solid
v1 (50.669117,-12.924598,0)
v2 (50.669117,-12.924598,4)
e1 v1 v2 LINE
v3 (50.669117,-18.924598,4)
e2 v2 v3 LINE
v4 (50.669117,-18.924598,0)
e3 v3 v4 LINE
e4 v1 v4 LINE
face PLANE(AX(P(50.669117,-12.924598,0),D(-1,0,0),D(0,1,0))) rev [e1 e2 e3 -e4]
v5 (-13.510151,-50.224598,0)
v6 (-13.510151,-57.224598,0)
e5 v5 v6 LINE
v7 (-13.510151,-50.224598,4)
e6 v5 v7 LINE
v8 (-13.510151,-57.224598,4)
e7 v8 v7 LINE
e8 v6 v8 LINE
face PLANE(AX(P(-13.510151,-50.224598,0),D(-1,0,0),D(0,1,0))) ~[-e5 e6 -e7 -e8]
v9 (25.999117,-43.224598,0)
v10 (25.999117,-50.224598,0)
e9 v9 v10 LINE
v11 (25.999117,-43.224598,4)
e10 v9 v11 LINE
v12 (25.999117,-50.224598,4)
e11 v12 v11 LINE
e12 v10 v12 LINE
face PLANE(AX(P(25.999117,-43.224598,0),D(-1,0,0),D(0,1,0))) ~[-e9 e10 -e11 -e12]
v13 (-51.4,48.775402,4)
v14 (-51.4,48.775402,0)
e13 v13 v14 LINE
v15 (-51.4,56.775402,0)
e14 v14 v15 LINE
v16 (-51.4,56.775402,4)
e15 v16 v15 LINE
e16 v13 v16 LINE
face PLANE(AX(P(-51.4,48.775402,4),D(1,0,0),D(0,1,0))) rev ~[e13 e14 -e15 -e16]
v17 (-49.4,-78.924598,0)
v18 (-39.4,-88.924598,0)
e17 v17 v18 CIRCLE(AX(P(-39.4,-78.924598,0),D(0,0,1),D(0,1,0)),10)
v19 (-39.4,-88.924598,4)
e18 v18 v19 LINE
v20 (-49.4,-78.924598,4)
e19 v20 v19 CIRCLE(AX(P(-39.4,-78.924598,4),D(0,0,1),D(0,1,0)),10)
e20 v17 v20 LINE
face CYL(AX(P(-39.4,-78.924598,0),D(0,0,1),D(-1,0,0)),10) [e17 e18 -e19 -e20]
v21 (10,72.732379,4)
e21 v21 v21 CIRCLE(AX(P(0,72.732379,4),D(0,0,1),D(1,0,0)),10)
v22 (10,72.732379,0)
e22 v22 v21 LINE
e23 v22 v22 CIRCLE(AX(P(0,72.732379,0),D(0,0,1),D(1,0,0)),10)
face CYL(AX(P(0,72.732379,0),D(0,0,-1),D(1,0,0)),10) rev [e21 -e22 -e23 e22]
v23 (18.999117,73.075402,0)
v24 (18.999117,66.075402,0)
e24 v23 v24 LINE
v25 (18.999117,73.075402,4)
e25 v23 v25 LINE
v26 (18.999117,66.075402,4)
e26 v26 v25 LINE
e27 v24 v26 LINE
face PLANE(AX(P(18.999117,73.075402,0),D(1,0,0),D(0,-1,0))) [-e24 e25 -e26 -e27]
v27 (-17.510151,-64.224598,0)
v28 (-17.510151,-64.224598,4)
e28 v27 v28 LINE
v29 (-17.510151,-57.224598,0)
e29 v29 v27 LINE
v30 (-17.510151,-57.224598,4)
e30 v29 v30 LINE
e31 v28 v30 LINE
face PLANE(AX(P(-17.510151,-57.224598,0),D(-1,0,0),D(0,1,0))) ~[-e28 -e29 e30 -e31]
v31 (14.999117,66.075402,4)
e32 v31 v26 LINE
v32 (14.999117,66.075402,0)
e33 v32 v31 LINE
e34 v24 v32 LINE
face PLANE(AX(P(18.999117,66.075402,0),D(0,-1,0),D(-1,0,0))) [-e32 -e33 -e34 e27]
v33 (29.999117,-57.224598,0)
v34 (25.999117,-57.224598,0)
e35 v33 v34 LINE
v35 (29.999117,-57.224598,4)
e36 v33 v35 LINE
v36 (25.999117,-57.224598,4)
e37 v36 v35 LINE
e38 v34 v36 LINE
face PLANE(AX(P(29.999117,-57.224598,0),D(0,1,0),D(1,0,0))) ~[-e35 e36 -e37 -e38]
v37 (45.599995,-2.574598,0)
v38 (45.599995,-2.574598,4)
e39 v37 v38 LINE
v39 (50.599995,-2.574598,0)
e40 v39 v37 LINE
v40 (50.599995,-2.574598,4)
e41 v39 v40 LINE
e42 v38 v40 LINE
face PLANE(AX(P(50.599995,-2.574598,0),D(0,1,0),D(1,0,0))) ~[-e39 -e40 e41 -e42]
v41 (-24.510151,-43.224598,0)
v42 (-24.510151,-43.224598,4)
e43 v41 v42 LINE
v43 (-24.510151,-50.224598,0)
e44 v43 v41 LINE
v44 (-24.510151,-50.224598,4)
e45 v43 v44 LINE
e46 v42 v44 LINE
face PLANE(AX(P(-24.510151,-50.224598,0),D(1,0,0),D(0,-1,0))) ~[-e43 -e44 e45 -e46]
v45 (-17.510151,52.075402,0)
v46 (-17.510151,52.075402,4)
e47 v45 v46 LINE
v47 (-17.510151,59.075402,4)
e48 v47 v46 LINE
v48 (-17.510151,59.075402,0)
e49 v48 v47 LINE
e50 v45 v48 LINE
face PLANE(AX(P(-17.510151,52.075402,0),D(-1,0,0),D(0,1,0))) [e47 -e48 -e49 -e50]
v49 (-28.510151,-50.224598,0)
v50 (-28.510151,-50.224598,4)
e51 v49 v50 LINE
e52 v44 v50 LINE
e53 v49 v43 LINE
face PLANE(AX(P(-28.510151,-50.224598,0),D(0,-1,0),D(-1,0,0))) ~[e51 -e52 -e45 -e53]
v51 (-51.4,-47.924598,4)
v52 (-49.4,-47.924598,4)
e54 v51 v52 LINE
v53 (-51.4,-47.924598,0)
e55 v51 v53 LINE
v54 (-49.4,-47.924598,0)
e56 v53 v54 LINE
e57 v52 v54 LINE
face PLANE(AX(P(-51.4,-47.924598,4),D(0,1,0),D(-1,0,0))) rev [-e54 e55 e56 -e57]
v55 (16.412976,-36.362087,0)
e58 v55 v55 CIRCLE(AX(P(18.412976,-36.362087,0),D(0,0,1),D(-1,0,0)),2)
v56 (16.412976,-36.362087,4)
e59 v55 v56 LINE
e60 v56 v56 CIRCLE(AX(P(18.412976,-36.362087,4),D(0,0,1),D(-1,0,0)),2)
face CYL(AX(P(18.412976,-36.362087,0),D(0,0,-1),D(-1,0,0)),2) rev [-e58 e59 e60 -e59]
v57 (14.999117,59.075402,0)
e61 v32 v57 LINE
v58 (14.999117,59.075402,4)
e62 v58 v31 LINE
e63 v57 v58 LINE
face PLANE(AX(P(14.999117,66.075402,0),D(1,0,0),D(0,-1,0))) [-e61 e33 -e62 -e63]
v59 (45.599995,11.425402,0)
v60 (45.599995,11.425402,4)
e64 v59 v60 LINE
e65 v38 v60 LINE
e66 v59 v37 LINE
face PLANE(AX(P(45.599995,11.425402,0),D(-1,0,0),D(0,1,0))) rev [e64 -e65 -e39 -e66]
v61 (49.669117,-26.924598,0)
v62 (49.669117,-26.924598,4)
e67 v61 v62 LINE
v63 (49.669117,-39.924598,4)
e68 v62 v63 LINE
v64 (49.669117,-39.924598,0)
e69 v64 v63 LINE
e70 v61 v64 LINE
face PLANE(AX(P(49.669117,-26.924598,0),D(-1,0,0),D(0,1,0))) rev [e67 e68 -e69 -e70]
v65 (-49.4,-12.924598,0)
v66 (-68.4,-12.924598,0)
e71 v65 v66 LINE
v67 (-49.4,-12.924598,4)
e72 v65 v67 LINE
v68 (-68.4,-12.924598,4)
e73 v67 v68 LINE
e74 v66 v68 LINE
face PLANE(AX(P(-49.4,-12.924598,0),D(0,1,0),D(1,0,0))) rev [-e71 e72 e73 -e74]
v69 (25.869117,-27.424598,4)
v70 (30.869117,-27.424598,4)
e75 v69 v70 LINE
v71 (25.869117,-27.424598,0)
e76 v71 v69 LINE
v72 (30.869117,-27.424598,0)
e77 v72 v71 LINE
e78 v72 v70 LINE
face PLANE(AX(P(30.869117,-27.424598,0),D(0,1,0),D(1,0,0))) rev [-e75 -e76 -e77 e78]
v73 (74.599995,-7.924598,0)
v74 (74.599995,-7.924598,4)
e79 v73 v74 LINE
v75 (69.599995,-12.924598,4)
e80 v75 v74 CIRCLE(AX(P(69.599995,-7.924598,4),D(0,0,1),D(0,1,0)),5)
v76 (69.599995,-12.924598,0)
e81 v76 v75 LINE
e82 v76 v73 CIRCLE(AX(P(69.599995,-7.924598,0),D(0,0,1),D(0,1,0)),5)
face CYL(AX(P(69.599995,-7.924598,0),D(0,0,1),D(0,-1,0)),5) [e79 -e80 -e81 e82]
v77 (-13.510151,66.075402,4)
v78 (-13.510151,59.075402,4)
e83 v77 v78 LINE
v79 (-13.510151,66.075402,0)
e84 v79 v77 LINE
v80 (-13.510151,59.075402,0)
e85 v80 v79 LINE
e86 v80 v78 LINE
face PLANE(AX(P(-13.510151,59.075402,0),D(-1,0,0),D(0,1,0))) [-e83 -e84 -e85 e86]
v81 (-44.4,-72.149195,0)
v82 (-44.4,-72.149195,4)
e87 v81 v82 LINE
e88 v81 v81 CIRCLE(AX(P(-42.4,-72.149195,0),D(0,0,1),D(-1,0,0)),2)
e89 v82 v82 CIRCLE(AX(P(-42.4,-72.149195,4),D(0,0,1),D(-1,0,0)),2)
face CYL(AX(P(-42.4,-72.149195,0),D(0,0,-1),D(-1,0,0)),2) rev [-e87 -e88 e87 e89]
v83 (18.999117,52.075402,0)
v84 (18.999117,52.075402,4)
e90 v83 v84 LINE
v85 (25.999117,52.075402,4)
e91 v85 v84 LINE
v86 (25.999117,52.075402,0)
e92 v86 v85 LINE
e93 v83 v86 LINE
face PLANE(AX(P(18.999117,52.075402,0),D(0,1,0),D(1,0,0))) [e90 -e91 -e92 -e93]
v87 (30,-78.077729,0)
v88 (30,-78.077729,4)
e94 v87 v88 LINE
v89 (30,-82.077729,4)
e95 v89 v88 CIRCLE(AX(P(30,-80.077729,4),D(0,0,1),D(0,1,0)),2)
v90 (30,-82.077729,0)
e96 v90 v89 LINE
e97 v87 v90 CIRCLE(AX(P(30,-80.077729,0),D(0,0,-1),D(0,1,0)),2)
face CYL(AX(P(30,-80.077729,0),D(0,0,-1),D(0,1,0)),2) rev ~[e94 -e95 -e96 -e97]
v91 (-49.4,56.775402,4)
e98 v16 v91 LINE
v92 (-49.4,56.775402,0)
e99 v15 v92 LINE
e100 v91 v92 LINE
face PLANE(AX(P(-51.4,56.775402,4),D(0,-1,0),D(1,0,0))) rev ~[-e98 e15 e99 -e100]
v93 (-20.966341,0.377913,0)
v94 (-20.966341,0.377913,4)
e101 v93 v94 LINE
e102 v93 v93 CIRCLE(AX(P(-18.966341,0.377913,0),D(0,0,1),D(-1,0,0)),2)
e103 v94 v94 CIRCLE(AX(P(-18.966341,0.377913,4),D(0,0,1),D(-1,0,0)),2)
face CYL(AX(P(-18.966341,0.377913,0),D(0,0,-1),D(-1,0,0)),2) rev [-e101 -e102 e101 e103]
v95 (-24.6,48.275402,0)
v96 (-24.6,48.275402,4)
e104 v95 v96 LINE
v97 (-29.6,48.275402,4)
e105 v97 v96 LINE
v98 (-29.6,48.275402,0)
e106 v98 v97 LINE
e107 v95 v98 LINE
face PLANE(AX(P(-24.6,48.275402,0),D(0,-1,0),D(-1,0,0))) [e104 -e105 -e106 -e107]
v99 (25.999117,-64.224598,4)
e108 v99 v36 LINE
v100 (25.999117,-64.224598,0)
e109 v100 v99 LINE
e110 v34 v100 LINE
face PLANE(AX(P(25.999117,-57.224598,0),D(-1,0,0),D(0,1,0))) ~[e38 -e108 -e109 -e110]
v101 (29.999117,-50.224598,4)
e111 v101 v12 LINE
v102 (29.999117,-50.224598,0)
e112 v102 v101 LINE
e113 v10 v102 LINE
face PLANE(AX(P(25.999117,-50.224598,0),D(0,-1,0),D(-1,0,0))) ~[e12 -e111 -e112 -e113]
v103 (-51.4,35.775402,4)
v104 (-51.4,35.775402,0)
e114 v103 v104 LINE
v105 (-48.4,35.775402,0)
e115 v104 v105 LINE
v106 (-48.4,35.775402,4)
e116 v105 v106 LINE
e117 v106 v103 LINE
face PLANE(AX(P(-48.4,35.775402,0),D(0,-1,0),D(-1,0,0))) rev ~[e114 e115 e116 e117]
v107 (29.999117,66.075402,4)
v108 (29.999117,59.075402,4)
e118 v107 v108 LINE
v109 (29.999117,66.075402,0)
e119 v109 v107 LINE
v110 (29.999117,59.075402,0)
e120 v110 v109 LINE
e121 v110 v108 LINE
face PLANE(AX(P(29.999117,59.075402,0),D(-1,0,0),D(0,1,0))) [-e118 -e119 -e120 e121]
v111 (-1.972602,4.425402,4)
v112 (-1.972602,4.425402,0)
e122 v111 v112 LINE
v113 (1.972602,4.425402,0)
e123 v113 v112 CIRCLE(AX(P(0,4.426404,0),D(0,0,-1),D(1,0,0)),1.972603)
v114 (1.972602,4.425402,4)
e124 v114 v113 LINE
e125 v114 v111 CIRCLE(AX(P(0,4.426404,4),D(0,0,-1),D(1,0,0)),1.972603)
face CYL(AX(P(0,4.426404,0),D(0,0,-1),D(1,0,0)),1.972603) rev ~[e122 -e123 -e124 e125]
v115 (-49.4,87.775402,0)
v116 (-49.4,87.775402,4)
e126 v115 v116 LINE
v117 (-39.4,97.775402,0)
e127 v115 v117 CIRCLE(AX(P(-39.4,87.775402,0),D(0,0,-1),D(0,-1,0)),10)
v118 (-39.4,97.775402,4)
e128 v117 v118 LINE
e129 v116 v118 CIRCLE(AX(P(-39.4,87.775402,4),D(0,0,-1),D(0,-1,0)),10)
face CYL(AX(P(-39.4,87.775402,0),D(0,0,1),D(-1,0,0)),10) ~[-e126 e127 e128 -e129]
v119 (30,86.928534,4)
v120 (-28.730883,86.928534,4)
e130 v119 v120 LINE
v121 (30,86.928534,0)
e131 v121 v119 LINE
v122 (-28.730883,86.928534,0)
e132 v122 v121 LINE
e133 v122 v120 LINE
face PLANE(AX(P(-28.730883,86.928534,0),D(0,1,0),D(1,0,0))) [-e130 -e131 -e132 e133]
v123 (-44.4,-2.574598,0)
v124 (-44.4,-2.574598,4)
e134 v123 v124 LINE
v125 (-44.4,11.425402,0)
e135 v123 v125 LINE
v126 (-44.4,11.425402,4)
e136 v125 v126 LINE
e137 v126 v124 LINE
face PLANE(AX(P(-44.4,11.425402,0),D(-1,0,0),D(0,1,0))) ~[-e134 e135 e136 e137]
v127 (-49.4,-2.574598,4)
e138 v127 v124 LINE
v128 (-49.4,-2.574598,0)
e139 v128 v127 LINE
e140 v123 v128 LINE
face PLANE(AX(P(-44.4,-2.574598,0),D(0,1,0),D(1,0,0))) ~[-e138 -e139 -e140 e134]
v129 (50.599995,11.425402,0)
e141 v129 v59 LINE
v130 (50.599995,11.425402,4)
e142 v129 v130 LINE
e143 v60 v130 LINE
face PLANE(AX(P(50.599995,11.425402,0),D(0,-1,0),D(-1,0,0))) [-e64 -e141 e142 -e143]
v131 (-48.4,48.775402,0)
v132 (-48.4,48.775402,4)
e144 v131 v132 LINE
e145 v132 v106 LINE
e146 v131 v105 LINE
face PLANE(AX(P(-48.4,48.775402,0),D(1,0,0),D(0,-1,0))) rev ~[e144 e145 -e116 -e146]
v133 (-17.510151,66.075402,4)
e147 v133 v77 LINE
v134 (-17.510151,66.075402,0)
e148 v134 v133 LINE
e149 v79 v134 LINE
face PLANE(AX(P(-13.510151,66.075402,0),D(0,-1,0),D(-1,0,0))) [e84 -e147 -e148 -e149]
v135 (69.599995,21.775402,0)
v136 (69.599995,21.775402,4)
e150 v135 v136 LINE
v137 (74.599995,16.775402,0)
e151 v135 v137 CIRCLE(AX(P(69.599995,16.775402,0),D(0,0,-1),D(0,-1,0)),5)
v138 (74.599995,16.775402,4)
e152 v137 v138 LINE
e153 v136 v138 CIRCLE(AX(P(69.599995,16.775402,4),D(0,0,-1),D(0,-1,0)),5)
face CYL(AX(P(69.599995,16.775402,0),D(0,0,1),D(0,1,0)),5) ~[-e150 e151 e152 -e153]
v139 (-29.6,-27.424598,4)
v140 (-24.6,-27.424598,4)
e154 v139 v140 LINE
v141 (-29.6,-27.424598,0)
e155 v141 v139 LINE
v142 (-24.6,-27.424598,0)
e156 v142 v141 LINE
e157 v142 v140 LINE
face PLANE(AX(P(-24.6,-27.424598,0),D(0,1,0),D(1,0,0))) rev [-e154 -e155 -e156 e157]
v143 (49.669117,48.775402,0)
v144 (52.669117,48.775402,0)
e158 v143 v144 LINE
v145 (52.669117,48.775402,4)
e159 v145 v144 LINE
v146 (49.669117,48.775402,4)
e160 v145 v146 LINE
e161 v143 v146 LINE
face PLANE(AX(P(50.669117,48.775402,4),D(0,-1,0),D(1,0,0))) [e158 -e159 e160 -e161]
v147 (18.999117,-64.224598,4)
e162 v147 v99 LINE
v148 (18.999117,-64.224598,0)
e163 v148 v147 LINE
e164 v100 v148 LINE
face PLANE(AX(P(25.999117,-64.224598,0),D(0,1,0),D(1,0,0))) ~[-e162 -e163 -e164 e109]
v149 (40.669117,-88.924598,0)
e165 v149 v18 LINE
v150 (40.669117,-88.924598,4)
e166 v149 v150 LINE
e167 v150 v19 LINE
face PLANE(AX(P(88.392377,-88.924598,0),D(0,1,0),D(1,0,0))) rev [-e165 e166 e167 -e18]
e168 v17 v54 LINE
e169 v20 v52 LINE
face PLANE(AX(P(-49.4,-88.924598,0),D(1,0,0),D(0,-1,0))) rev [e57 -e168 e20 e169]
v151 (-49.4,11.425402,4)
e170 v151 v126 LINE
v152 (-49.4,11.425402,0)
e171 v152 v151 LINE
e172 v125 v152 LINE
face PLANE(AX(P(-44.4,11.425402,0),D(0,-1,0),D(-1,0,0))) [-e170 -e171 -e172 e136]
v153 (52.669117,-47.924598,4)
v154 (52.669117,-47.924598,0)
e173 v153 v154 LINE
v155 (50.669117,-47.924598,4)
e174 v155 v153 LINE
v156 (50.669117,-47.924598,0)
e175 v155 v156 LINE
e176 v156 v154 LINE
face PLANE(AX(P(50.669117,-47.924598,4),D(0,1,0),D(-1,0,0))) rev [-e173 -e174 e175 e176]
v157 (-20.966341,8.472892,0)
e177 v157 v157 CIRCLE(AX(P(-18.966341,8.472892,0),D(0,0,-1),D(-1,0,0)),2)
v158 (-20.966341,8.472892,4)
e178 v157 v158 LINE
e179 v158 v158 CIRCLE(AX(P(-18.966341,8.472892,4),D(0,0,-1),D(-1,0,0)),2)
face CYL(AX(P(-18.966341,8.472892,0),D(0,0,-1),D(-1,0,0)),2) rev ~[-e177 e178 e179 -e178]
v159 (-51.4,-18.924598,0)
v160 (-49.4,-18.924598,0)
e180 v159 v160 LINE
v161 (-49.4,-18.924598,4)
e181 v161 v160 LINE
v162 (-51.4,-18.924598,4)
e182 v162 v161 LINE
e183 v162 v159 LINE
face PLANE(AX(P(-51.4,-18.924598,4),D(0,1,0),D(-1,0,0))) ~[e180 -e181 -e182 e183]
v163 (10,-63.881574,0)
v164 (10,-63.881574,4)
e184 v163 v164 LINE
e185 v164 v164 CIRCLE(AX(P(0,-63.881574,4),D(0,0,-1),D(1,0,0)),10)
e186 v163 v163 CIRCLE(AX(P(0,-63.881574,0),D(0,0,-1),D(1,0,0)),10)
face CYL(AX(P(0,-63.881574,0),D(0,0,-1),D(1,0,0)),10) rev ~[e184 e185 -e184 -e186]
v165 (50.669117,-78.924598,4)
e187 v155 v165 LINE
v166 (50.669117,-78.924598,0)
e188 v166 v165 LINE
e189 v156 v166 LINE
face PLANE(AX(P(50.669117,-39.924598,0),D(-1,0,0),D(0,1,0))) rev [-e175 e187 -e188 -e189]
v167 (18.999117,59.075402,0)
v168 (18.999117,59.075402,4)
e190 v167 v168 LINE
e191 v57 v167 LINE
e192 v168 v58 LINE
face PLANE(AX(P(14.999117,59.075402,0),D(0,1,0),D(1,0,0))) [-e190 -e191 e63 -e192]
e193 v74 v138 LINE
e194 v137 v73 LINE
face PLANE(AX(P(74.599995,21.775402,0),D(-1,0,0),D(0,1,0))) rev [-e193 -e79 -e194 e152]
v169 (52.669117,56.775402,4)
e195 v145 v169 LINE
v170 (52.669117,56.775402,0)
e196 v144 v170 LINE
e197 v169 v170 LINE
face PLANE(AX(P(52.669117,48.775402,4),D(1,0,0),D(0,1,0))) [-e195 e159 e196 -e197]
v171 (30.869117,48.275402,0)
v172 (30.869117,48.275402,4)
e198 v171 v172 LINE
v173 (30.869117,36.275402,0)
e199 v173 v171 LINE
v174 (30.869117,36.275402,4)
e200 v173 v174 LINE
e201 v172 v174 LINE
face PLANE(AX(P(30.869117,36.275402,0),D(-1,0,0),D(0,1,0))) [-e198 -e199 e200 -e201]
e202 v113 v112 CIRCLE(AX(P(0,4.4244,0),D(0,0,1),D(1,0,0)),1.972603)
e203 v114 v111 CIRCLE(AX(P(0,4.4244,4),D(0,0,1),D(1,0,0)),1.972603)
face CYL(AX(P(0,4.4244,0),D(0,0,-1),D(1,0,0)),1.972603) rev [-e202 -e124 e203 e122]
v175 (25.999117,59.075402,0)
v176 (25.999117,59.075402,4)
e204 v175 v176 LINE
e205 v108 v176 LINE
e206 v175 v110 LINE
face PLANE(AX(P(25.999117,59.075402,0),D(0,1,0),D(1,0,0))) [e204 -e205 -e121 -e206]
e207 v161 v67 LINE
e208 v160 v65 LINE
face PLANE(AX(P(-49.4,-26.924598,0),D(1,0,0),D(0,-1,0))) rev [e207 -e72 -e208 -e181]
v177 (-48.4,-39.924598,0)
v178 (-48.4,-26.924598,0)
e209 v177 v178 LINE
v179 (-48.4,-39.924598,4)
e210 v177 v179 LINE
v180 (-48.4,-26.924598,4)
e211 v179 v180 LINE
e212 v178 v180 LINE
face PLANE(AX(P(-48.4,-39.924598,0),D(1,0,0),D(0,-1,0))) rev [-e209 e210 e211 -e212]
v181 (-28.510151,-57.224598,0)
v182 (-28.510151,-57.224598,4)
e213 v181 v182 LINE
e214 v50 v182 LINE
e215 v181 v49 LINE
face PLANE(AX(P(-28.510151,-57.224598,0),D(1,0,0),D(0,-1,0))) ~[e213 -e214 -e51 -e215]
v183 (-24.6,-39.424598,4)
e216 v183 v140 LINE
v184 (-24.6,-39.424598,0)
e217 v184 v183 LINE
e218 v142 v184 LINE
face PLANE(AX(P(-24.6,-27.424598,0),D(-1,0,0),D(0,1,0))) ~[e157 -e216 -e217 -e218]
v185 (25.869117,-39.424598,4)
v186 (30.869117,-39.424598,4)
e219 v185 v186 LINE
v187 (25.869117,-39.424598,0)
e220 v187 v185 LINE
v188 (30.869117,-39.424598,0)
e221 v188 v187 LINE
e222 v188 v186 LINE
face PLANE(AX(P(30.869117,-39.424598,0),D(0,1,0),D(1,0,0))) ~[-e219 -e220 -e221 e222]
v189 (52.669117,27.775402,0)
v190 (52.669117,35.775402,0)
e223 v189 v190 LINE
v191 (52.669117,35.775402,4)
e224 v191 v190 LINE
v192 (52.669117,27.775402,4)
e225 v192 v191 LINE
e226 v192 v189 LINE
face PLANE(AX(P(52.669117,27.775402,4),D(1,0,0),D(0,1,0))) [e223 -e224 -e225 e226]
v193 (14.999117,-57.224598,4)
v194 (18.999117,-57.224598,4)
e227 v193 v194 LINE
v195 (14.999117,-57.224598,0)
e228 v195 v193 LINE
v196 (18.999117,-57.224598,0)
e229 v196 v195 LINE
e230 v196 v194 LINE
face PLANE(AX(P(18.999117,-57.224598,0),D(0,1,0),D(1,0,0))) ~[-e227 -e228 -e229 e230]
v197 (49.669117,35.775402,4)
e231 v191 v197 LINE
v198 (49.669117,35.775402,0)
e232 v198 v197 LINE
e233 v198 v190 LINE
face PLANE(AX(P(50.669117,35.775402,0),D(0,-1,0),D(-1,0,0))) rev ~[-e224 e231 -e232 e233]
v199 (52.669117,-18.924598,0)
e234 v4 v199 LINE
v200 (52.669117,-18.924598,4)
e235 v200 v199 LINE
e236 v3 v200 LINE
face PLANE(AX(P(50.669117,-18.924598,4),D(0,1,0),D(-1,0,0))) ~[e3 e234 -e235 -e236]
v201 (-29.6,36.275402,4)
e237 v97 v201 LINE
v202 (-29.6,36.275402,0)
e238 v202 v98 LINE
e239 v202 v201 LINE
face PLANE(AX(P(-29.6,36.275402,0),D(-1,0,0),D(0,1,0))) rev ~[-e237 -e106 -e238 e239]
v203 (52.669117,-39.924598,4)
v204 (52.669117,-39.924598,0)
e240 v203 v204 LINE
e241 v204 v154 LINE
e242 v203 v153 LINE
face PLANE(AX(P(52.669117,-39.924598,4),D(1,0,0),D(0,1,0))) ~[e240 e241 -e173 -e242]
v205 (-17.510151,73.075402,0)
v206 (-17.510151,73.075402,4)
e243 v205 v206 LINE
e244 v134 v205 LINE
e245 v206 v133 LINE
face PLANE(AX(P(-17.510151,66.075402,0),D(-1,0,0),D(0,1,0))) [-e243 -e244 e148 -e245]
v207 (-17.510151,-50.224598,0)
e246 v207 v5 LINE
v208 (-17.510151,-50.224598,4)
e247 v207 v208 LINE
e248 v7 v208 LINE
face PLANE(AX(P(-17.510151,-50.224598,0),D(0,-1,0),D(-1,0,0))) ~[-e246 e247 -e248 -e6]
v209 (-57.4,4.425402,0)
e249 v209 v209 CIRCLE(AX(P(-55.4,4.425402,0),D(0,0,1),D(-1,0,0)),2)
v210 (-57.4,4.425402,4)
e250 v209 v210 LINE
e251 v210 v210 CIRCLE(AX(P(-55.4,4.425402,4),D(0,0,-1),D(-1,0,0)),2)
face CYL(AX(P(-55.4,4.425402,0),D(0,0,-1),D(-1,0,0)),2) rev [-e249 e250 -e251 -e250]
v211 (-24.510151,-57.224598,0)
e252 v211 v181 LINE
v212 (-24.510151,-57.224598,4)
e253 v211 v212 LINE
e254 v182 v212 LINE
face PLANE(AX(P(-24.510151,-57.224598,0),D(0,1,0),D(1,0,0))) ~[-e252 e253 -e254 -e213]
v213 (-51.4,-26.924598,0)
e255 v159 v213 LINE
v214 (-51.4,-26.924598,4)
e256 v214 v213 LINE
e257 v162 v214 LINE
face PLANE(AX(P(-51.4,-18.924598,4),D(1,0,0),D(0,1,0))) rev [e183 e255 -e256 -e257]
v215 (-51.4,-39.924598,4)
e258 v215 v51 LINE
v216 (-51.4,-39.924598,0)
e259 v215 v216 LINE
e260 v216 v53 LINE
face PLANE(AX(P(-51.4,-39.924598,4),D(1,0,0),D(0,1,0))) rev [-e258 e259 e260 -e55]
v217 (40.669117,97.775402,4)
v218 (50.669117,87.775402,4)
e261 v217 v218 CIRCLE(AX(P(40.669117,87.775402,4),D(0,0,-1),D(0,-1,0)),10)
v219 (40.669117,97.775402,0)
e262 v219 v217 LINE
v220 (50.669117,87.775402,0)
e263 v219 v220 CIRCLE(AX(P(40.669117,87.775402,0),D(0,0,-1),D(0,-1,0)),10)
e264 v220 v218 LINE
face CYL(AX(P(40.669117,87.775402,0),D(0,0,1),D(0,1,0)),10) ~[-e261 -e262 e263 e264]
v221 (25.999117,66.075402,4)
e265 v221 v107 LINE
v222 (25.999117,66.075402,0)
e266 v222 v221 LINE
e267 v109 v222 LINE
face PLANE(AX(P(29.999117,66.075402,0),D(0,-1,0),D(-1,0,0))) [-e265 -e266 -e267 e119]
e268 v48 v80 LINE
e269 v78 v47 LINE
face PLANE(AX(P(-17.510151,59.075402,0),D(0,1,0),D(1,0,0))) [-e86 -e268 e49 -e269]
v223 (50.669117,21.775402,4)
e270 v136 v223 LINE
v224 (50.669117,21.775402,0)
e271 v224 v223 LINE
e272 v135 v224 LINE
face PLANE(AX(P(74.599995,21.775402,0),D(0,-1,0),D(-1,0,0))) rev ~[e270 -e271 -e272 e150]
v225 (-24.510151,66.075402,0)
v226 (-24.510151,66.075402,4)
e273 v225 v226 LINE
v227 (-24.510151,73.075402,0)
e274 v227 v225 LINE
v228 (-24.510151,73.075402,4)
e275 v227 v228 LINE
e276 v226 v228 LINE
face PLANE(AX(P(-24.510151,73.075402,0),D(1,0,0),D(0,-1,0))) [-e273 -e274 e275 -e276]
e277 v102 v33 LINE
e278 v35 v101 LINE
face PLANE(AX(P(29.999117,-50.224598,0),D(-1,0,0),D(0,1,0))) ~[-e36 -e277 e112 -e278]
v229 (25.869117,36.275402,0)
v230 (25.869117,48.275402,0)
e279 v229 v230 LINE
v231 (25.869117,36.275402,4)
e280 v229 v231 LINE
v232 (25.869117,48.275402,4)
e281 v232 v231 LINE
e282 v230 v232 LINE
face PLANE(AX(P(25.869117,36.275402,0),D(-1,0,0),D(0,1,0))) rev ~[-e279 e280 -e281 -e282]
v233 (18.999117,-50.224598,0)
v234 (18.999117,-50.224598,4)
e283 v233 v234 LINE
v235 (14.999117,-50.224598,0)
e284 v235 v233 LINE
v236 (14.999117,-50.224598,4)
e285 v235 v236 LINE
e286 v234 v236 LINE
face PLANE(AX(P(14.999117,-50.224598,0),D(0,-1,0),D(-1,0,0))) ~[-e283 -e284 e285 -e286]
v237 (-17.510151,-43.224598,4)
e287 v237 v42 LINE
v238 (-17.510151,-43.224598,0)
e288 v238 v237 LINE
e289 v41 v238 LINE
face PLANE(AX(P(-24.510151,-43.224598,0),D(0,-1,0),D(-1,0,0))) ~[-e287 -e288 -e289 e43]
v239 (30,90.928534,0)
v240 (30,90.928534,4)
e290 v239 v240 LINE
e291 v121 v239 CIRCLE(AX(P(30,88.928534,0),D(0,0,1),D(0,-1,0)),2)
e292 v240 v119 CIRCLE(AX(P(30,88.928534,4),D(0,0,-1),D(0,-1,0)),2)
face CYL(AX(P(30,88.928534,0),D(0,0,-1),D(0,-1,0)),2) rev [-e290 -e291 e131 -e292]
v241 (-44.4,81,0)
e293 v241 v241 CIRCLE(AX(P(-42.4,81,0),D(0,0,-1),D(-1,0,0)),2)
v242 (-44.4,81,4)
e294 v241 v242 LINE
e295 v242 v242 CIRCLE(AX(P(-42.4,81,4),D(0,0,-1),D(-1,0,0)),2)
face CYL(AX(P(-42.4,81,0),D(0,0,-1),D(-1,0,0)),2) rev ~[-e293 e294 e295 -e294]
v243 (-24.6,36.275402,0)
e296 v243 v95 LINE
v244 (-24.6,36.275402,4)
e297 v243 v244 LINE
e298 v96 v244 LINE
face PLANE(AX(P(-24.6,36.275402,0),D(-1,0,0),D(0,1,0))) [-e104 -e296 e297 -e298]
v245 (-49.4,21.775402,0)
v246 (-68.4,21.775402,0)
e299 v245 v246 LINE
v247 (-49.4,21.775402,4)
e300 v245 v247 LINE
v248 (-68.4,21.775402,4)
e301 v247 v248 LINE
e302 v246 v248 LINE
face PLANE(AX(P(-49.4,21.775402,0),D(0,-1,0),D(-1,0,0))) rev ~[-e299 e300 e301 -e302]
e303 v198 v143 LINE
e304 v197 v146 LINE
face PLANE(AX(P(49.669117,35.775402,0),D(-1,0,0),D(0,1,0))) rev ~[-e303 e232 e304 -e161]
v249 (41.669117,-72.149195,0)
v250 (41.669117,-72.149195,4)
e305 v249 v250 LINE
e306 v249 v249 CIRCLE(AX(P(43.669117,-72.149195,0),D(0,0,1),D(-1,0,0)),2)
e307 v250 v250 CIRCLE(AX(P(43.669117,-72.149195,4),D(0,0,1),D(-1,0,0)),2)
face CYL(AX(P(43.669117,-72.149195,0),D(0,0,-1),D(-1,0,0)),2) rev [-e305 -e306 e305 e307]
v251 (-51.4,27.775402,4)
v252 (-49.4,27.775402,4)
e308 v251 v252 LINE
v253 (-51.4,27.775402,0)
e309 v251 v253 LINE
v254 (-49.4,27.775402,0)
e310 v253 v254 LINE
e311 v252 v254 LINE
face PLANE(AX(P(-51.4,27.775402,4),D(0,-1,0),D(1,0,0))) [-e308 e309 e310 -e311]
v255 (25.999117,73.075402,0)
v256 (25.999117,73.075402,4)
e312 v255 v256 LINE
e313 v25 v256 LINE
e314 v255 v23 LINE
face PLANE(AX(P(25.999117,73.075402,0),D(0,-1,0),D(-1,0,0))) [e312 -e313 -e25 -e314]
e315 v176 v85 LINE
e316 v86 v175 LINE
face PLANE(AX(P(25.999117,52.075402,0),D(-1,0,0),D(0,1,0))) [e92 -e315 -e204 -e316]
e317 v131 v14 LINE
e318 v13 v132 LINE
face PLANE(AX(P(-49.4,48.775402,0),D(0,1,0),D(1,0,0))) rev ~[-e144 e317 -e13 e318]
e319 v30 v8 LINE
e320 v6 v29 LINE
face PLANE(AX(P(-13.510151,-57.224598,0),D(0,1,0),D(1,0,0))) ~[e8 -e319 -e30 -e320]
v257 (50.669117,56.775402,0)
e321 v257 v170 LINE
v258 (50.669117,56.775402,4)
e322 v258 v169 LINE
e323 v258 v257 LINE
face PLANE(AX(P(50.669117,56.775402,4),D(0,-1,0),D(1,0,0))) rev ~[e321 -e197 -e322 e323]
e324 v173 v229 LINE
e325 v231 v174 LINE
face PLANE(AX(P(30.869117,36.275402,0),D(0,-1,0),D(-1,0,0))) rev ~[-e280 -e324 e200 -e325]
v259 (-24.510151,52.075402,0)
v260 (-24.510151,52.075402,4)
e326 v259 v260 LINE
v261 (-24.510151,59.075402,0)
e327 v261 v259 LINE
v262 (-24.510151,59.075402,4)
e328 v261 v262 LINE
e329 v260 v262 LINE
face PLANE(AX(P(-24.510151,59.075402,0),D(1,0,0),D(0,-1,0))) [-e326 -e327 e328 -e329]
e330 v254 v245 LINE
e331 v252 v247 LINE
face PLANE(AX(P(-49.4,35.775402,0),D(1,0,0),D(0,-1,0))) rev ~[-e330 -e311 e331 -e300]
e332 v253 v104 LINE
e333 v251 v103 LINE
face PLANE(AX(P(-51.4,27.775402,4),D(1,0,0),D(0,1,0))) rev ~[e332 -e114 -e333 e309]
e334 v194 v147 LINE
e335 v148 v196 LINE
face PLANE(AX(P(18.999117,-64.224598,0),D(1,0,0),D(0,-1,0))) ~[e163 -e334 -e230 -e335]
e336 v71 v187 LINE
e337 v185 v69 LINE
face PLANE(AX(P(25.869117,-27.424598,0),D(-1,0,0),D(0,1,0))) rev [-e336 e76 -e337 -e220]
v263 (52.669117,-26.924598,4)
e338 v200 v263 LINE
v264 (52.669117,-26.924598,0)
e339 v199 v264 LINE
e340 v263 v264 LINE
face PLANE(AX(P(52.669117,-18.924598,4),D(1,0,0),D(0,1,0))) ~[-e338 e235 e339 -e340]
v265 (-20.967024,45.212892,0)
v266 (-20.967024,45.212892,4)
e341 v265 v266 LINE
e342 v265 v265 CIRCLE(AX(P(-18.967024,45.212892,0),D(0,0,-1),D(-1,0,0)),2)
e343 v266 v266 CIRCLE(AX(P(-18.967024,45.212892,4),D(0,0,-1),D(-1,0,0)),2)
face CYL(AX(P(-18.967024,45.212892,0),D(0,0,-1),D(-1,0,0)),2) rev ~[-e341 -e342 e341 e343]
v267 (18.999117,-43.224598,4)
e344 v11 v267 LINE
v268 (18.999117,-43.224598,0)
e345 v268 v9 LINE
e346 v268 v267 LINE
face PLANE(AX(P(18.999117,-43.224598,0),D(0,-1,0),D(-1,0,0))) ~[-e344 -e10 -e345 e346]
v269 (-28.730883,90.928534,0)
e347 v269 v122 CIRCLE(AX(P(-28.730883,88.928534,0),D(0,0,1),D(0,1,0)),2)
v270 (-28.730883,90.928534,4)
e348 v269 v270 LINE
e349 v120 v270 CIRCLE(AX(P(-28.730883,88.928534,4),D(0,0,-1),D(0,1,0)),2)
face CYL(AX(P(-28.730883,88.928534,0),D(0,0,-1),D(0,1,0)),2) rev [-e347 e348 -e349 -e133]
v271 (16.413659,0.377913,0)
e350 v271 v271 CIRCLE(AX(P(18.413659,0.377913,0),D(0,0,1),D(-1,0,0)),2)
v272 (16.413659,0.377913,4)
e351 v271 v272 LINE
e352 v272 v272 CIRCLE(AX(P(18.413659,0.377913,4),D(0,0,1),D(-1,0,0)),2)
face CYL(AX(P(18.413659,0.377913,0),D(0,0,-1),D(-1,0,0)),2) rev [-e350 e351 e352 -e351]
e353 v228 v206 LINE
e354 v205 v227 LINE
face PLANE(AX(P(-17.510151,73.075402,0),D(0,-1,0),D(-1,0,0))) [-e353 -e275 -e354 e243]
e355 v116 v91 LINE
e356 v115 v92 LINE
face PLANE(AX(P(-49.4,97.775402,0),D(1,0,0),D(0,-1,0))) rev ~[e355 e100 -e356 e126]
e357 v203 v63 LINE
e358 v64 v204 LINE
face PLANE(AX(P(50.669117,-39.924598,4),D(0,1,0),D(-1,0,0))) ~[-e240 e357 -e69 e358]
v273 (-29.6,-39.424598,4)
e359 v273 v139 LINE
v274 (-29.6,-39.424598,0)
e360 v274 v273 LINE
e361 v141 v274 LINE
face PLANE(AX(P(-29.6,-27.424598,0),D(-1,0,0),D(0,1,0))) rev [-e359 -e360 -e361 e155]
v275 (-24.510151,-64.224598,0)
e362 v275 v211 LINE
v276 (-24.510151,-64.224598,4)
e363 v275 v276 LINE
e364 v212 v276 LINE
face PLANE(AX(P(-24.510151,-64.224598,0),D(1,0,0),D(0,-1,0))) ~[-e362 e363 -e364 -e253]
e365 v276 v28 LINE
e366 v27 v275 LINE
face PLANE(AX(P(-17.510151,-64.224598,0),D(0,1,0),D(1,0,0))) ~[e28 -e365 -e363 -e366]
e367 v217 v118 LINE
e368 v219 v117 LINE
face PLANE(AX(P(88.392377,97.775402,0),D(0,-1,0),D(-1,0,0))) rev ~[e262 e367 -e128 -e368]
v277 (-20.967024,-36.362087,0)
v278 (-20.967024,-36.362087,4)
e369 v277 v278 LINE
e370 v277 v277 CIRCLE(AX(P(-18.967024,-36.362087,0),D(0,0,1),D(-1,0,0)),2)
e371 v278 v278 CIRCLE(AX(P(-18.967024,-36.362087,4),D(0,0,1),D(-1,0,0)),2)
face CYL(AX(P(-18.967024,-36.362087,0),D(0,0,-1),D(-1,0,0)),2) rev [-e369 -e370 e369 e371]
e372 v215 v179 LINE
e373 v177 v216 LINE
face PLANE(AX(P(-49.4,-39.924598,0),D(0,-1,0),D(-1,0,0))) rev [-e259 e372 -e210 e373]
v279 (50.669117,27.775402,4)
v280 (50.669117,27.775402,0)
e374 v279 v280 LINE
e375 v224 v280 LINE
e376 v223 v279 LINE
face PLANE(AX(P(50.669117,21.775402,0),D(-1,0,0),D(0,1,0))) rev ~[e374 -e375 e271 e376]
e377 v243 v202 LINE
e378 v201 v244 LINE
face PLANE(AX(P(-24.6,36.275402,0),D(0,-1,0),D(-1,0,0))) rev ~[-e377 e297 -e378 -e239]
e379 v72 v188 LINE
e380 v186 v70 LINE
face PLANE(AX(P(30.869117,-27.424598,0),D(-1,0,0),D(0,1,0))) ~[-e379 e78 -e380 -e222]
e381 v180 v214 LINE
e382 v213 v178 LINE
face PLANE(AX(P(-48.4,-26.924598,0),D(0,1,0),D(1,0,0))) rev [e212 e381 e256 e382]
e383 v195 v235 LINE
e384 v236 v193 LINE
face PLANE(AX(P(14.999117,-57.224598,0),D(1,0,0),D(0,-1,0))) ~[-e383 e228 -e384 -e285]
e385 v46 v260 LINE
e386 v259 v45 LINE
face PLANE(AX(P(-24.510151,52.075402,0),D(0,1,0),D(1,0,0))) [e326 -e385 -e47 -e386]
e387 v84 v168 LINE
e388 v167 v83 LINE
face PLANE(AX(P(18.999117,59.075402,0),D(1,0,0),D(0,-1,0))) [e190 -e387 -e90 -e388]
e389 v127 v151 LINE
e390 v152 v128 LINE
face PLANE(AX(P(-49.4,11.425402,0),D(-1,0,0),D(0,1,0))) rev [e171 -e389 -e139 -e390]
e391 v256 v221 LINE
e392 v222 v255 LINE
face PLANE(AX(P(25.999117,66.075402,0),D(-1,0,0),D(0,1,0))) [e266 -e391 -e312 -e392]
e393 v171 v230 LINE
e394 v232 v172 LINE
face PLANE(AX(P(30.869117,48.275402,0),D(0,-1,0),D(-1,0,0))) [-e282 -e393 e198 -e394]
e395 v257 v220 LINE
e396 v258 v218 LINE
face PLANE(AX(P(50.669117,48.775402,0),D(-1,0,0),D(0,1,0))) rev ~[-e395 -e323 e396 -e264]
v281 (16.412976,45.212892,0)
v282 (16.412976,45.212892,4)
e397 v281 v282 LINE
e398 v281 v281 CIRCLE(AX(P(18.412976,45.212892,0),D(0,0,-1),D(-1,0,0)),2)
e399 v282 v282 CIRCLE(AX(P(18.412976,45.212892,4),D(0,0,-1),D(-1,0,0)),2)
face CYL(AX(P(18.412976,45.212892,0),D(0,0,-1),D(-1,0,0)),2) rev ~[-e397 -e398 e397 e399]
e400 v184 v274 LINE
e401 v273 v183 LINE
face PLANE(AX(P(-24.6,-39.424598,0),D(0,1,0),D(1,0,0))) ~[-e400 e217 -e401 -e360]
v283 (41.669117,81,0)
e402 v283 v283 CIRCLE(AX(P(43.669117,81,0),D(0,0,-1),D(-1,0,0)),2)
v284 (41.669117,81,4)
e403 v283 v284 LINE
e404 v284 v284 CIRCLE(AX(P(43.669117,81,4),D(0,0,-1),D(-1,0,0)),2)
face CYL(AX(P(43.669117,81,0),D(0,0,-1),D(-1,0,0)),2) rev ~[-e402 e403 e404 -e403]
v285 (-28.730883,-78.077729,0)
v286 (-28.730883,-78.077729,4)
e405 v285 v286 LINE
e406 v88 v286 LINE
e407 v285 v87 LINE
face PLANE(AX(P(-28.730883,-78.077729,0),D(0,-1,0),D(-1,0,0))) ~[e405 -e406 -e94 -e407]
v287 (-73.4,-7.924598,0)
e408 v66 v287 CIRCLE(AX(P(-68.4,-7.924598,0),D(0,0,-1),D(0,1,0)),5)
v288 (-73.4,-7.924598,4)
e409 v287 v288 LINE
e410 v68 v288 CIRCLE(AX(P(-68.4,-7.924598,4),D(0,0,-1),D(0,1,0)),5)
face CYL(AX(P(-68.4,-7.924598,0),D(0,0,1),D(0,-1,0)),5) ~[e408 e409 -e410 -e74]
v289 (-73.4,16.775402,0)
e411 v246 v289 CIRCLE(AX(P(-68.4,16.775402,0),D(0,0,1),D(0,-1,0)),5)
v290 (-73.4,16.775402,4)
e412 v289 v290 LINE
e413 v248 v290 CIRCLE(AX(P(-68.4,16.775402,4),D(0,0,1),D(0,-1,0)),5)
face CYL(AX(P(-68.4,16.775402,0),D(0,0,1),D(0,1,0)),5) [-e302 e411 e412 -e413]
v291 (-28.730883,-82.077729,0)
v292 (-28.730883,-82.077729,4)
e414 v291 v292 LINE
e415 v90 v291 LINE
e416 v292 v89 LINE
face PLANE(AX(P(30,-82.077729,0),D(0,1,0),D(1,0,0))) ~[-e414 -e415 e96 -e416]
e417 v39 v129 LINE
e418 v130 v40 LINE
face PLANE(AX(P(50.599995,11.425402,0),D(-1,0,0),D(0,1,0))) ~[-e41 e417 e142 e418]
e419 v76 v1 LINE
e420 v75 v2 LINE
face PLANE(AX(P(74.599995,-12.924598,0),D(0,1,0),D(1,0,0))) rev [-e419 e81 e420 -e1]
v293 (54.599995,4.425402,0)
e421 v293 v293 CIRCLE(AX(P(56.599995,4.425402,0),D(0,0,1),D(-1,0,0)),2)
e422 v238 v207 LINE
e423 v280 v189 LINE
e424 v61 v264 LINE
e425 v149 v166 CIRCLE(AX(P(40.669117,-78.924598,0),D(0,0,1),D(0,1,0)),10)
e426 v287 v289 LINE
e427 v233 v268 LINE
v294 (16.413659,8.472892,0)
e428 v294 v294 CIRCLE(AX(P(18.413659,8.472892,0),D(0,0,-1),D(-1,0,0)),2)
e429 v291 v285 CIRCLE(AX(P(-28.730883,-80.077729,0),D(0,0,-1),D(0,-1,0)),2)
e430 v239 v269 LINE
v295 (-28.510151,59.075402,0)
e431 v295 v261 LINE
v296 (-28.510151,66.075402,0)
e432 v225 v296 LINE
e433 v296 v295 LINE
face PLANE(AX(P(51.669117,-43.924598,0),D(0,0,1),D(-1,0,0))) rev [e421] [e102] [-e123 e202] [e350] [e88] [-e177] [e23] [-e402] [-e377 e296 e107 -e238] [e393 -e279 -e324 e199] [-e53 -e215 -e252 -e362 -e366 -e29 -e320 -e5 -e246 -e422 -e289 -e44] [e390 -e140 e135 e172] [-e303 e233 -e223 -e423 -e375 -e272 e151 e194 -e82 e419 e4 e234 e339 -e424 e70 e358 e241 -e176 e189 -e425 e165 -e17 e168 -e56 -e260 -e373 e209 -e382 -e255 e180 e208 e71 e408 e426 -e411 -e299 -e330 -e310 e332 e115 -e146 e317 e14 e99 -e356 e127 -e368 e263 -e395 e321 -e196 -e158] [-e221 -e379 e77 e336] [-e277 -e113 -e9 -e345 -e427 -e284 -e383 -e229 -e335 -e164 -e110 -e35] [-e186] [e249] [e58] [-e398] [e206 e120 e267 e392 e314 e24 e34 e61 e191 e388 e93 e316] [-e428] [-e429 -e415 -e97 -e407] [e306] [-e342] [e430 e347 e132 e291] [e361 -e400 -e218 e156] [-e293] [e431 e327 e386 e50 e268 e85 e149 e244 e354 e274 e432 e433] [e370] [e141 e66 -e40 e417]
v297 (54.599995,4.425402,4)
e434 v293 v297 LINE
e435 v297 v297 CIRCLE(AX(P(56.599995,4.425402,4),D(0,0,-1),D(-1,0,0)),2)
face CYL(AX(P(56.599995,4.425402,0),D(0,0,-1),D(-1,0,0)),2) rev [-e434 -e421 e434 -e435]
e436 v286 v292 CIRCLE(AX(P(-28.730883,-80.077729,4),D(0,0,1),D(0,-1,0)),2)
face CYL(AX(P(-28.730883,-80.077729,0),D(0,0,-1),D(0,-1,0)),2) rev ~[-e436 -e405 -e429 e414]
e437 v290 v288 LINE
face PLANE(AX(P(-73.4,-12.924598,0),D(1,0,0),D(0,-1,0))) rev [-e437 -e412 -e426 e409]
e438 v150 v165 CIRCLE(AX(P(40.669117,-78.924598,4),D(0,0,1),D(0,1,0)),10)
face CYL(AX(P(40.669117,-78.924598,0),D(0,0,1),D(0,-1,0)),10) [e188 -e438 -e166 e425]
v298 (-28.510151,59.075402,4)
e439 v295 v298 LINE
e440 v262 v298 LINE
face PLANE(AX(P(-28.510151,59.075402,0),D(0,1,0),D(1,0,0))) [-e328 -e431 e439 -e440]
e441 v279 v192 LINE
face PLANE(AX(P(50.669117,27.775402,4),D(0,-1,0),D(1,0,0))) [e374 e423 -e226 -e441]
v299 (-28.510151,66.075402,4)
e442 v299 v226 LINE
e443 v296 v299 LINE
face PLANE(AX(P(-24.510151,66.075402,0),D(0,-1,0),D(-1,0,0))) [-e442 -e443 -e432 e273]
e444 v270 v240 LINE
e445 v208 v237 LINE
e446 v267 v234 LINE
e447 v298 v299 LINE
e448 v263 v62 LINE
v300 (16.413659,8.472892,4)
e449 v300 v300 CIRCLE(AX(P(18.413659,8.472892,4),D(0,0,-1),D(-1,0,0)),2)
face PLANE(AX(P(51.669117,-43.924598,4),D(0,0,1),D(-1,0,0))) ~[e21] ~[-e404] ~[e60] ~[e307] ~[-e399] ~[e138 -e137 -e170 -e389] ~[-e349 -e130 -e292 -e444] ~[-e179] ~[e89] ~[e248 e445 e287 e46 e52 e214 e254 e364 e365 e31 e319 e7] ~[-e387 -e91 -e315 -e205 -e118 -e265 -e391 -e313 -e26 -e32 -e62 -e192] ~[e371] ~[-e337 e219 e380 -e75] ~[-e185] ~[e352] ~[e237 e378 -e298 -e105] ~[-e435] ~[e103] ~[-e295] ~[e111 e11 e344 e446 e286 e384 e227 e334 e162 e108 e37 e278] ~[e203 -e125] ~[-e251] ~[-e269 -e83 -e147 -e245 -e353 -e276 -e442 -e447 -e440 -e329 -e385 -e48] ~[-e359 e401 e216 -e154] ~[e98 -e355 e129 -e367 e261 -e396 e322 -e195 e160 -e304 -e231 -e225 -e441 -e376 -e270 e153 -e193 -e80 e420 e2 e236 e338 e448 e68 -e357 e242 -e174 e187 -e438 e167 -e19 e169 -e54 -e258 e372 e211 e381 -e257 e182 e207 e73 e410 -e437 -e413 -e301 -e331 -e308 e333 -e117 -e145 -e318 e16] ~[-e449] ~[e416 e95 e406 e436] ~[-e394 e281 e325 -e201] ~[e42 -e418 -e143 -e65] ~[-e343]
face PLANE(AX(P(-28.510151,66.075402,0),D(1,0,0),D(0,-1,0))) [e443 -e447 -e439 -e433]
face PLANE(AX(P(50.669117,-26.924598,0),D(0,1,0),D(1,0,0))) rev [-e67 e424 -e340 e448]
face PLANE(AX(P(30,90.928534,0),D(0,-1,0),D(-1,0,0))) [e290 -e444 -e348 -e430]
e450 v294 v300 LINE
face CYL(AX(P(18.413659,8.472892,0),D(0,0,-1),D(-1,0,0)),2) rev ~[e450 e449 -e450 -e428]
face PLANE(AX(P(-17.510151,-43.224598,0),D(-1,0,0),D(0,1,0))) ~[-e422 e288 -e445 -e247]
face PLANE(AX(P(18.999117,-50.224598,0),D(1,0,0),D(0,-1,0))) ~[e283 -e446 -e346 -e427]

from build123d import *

# Parameters (mm, degrees)
SKETCH1_R           = 10
SKETCH1_R_2         = 1.972602619
BOSS_EXTRUDE2_DEPTH = 4
SKETCH5_W           = 5
SKETCH5_H           = 14
CUT_EXTRUDE3_DEPTH  = 5.0000001
SKETCH6_W           = 5
SKETCH6_H           = 14
CUT_EXTRUDE4_DEPTH  = 5.0000001
SKETCH19_R          = 2
CUT_EXTRUDE19_DEPTH = 5.0000001
SKETCH22_R          = 2
CUT_EXTRUDE22_DEPTH = 5.0000001
SKETCH23_R          = 2
CUT_EXTRUDE23_DEPTH = 5.0000001
SKETCH24_R          = 2
CUT_EXTRUDE24_DEPTH = 5.0000001
SKETCH25_W          = 5
SKETCH25_H          = 12
CUT_EXTRUDE25_DEPTH = 5.0000001
CUT_EXTRUDE26_DEPTH = 5.0000001
CUT_EXTRUDE29_DEPTH = 5.0000001
SKETCH20_R          = 2
CUT_EXTRUDE20_DEPTH = 5.0000001
SKETCH30_W          = 181.696441894
SKETCH30_H          = 131.456906608
CUT_EXTRUDE30_DEPTH = 4
SKETCH31_R          = 2
CUT_EXTRUDE31_DEPTH = 4
SKETCH32_W          = 167.461823271
SKETCH32_H          = 37.26795508
CUT_EXTRUDE32_DEPTH = 4
FILLET1_R           = 10
FILLET2_R           = 5
SKETCH33_W          = 2
SKETCH33_H          = 8
BOSS_EXTRUDE3_DEPTH = 4


with BuildPart() as part:
    # Sketch1 → Boss-Extrude2 (new body)
    with BuildSketch(Plane.XY):
        with BuildLine():
            Line((-49.4, 97.775402254), (-49.4, 48.775402254))
            Line((-49.4, 48.775402254), (-48.4, 48.775402254))
            Line((-48.4, 48.775402254), (-48.4, 35.775402254))
            Line((-48.4, 35.775402254), (-49.4, 35.775402254))
            Line((-49.4, 35.775402254), (-49.4, 21.775402254))
            Line((-49.4, 21.775402254), (-73.4, 21.775402254))
            Line((-73.4, 21.775402254), (-73.4, -12.924597746))
            Line((-73.4, -12.924597746), (-49.4, -12.924597746))
            Line((-49.4, -12.924597746), (-49.4, -26.924597746))
            Line((-49.4, -26.924597746), (-48.4, -26.924597746))
            Line((-48.4, -26.924597746), (-48.4, -39.924597746))
            Line((-48.4, -39.924597746), (-49.4, -39.924597746))
            Line((-49.4, -39.924597746), (-49.4, -88.924597746))
            Line((-49.4, -88.924597746), (-73.349457369, -88.924597746))
            add(Edge.make_bspline(
                [(-73.349457369, -88.924597746), (-70.502213021, -123.490651401), (3.447241601, -123.490651401), (77.396696223, -123.490651401), (74.549451875, -88.924597746)],
                knots=[3.190793702, 3.190793702, 3.190793702, 4.761590029, 4.761590029, 6.332386355, 6.332386355, 6.332386355], degree=2, weights=[1, 0.707106781, 1, 0.707106781, 1]))
            Line((74.549451875, -88.924597746), (50.599994505, -88.924597746))
            Line((50.599994505, -88.924597746), (50.599994505, -39.924597746))
            Line((50.599994505, -39.924597746), (49.599994505, -39.924597746))
            Line((49.599994505, -39.924597746), (49.599994505, -26.924597746))
            Line((49.599994505, -26.924597746), (50.599994505, -26.924597746))
            Line((50.599994505, -26.924597746), (50.599994505, -12.924597746))
            Line((50.599994505, -12.924597746), (74.599994505, -12.924597746))
            Line((74.599994505, -12.924597746), (74.599994505, 21.775402254))
            Line((74.599994505, 21.775402254), (50.669116659, 21.775402254))
            Line((50.669116659, 21.775402254), (50.669116659, 35.775402254))
            Line((50.669116659, 35.775402254), (49.669116659, 35.775402254))
            Line((49.669116659, 35.775402254), (49.669116659, 48.775402254))
            Line((49.669116659, 48.775402254), (50.669116659, 48.775402254))
            Line((50.669116659, 48.775402254), (50.669116659, 97.775402254))
            Line((50.669116659, 97.775402254), (74.669116659, 97.775402254))
            add(Edge.make_bspline(
                [(74.669116659, 97.775402254), (74.669116659, 132.775402254), (0.587265356, 132.775402254), (-73.494585946, 132.775402254), (-73.494585946, 97.775402254)],
                knots=[3.141592654, 3.141592654, 3.141592654, 4.71238898, 4.71238898, 6.283185307, 6.283185307, 6.283185307], degree=2, weights=[1, 0.707106781, 1, 0.707106781, 1]))
            Line((-73.494585946, 97.775402254), (-49.4, 97.775402254))
        make_face()
        with Locations((0, 72.732378713)):
            Circle(SKETCH1_R, mode=Mode.SUBTRACT)
        with Locations((0, -63.883577786)):
            Circle(SKETCH1_R, mode=Mode.SUBTRACT)
        with Locations((0, 4.424400463)):
            Circle(SKETCH1_R_2, mode=Mode.SUBTRACT)
    extrude(amount=BOSS_EXTRUDE2_DEPTH)

    # Sketch5 → Cut-Extrude3 (cut, through all)
    with BuildSketch(Plane(origin=(0, 0, 0), x_dir=(-1, 0, 0), z_dir=(0, 0, -1))):
        with Locations((46.9, 4.425402254)):
            Rectangle(SKETCH5_W, SKETCH5_H)
    extrude(amount=-CUT_EXTRUDE3_DEPTH, mode=Mode.SUBTRACT)

    # Sketch6 → Cut-Extrude4 (cut, through all)
    with BuildSketch(Plane(origin=(0, 0, 0), x_dir=(-1, 0, 0), z_dir=(0, 0, -1))):
        with Locations((-48.099994505, 4.425402254)):
            Rectangle(SKETCH6_W, SKETCH6_H)
    extrude(amount=-CUT_EXTRUDE4_DEPTH, mode=Mode.SUBTRACT)

    # Sketch19 → Cut-Extrude19 (cut, through all)
    with BuildSketch(Plane(origin=(0, 0, 0), x_dir=(-1, 0, 0), z_dir=(0, 0, -1))):
        with Locations((-56.599994505, 4.425402254)):
            Circle(SKETCH19_R)
    extrude(amount=-CUT_EXTRUDE19_DEPTH, mode=Mode.SUBTRACT)

    # Sketch22 → Cut-Extrude22 (cut, through all)
    with BuildSketch(Plane(origin=(0, 0, 0), x_dir=(-1, 0, 0), z_dir=(0, 0, -1))):
        with Locations((42.4, 81)):
            Circle(SKETCH22_R)
        with Locations((-43.669116659, 81)):
            Circle(SKETCH22_R)
    extrude(amount=-CUT_EXTRUDE22_DEPTH, mode=Mode.SUBTRACT)

    # Sketch23 → Cut-Extrude23 (cut, through all)
    with BuildSketch(Plane.XY.offset(4)):
        with Locations((43.599994505, -81)):
            Circle(SKETCH23_R)
        with Locations((-42.4, -81)):
            Circle(SKETCH23_R)
    extrude(amount=-CUT_EXTRUDE23_DEPTH, mode=Mode.SUBTRACT)

    # Sketch24 → Cut-Extrude24 (cut, through all)
    with BuildSketch(Plane.XY.offset(4)):
        with Locations((-50, -94.924597746)):
            Circle(SKETCH24_R)
        with Locations((50, -94.924597746)):
            Circle(SKETCH24_R)
        with Locations((-50, 103.775402254)):
            Circle(SKETCH24_R)
        with Locations((50, 103.775402254)):
            Circle(SKETCH24_R)
    extrude(amount=-CUT_EXTRUDE24_DEPTH, mode=Mode.SUBTRACT)

    # Sketch25 → Cut-Extrude25 (cut, through all)
    with BuildSketch(Plane(origin=(0, 0, 0), x_dir=(-1, 0, 0), z_dir=(0, 0, -1))):
        with Locations((-28.369116659, 42.275402254)):
            Rectangle(SKETCH25_W, SKETCH25_H)
        with Locations((27.1, 42.275402254)):
            Rectangle(SKETCH25_W, SKETCH25_H)
        with Locations((-28.299994505, -33.424597746)):
            Rectangle(SKETCH25_W, SKETCH25_H)
        with Locations((27.1, -33.424597746)):
            Rectangle(SKETCH25_W, SKETCH25_H)
    extrude(amount=-CUT_EXTRUDE25_DEPTH, mode=Mode.SUBTRACT)

    # Sketch26 → Cut-Extrude26 (cut, through all)
    with BuildSketch(Plane(origin=(0, 0, 0), x_dir=(-1, 0, 0), z_dir=(0, 0, -1))):
        Polygon((24.510151311, 52.075402254), (17.510151311, 52.075402254), (17.510151311, 59.075402254), (13.510151311, 59.075402254), (13.510151311, 66.075402254), (17.510151311, 66.075402254), (17.510151311, 73.075402254), (24.510151311, 73.075402254), (24.510151311, 66.075402254), (28.510151311, 66.075402254), (28.510151311, 59.075402254), (24.510151311, 59.075402254), align=None)
        Polygon((-29.999116659, 59.075402254), (-29.999116659, 66.075402254), (-25.999116659, 66.075402254), (-25.999116659, 73.075402254), (-18.999116659, 73.075402254), (-18.999116659, 66.075402254), (-14.999116659, 66.075402254), (-14.999116659, 59.075402254), (-18.999116659, 59.075402254), (-18.999116659, 52.075402254), (-25.999116659, 52.075402254), (-25.999116659, 59.075402254), align=None)
        Polygon((-19, -69), (-19, -62), (-15, -62), (-15, -55), (-19, -55), (-19, -48), (-26, -48), (-26, -55), (-30, -55), (-30, -62), (-26, -62), (-26, -69), align=None)
        Polygon((24.510151311, -48), (17.510151311, -48), (17.510151311, -55), (13.510151311, -55), (13.510151311, -62), (17.510151311, -62), (17.510151311, -69), (24.510151311, -69), (24.510151311, -62), (28.510151311, -62), (28.510151311, -55), (24.510151311, -55), align=None)
    extrude(amount=-CUT_EXTRUDE26_DEPTH, mode=Mode.SUBTRACT)

    # Sketch28 → Cut-Extrude29 (cut, through all)
    with BuildSketch(Plane(origin=(0, 0, 0), x_dir=(-1, 0, 0), z_dir=(0, 0, -1))):
        with BuildLine():
            Line((28.730883341, 86.928533544), (-30, 86.928533544))
            ThreePointArc((-30, 86.928533544), (-32, 88.928533544), (-30, 90.928533544))
            Line((-30, 90.928533544), (28.730883341, 90.928533544))
            ThreePointArc((28.730883341, 90.928533544), (30.730883341, 88.928533544), (28.730883341, 86.928533544))
        make_face()
    extrude(amount=-CUT_EXTRUDE29_DEPTH, mode=Mode.SUBTRACT)

    # Sketch20 → Cut-Extrude20 (cut, through all)
    with BuildSketch(Plane(origin=(0, 0, 0), x_dir=(-1, 0, 0), z_dir=(0, 0, -1))):
        with Locations((55.4, 4.425402254)):
            Circle(SKETCH20_R)
    extrude(amount=-CUT_EXTRUDE20_DEPTH, mode=Mode.SUBTRACT)

    # Sketch30 → Cut-Extrude30 (cut)
    with BuildSketch(Plane(origin=(0, 0, 0), x_dir=(-1, 0, 0), z_dir=(0, 0, -1))):
        with Locations((-2.534318945, -61.30305105)):
            Rectangle(SKETCH30_W, SKETCH30_H)
    extrude(amount=-CUT_EXTRUDE30_DEPTH, mode=Mode.SUBTRACT)

    # Sketch31 → Cut-Extrude31 (cut)
    with BuildSketch(Plane(origin=(0, 0, 0), x_dir=(-1, 0, 0), z_dir=(0, 0, -1))):
        with Locations((-18.412976441, 45.21289193)):
            Circle(SKETCH31_R)
        with Locations((-18.413659383, 8.47289193)):
            Circle(SKETCH31_R)
        with Locations((18.967023559, 45.21289193)):
            Circle(SKETCH31_R)
        with Locations((18.966340617, 8.47289193)):
            Circle(SKETCH31_R)
    extrude(amount=-CUT_EXTRUDE31_DEPTH, mode=Mode.SUBTRACT)

    # Sketch32 → Cut-Extrude32 (cut)
    with BuildSketch(Plane(origin=(0, 0, 0), x_dir=(-1, 0, 0), z_dir=(0, 0, -1))):
        with Locations((-4.661465148, 116.409379794)):
            Rectangle(SKETCH32_W, SKETCH32_H)
    extrude(amount=-CUT_EXTRUDE32_DEPTH, mode=Mode.SUBTRACT)

    # Fillet1
    fillet1_edges = [part.edges().sort_by_distance(p)[0] for p in [
        (-49.4, 97.775402254, 2),
        (50.669116659, 97.775402254, 2),
    ]]
    fillet(fillet1_edges, radius=FILLET1_R)

    # Fillet2
    fillet2_edges = [part.edges().sort_by_distance(p)[0] for p in [
        (74.599994505, 21.775402254, 2),
        (-73.4, 21.775402254, 2),
    ]]
    fillet(fillet2_edges, radius=FILLET2_R)

    # Sketch33 → Boss-Extrude3 (add)
    with BuildSketch(Plane.XY.offset(4)):
        with Locations((51.669116659, 52.775402254)):
            Rectangle(SKETCH33_W, SKETCH33_H)
        with Locations((51.669116659, 31.775402254)):
            Rectangle(SKETCH33_W, SKETCH33_H)
        with Locations((-50.4, 31.775402254)):
            Rectangle(SKETCH33_W, SKETCH33_H)
        with Locations((-50.4, 52.775402254)):
            Rectangle(SKETCH33_W, SKETCH33_H)
    extrude(amount=-BOSS_EXTRUDE3_DEPTH)

    # Mirror1: part across plane


with BuildPart() as part_1:
    add(part.part)
    add(part.part.mirror(Plane(origin=(0, 4.425402254, 0), x_dir=(0, 0, 1), z_dir=(0, -1, 0))))


solid = part_1.part
